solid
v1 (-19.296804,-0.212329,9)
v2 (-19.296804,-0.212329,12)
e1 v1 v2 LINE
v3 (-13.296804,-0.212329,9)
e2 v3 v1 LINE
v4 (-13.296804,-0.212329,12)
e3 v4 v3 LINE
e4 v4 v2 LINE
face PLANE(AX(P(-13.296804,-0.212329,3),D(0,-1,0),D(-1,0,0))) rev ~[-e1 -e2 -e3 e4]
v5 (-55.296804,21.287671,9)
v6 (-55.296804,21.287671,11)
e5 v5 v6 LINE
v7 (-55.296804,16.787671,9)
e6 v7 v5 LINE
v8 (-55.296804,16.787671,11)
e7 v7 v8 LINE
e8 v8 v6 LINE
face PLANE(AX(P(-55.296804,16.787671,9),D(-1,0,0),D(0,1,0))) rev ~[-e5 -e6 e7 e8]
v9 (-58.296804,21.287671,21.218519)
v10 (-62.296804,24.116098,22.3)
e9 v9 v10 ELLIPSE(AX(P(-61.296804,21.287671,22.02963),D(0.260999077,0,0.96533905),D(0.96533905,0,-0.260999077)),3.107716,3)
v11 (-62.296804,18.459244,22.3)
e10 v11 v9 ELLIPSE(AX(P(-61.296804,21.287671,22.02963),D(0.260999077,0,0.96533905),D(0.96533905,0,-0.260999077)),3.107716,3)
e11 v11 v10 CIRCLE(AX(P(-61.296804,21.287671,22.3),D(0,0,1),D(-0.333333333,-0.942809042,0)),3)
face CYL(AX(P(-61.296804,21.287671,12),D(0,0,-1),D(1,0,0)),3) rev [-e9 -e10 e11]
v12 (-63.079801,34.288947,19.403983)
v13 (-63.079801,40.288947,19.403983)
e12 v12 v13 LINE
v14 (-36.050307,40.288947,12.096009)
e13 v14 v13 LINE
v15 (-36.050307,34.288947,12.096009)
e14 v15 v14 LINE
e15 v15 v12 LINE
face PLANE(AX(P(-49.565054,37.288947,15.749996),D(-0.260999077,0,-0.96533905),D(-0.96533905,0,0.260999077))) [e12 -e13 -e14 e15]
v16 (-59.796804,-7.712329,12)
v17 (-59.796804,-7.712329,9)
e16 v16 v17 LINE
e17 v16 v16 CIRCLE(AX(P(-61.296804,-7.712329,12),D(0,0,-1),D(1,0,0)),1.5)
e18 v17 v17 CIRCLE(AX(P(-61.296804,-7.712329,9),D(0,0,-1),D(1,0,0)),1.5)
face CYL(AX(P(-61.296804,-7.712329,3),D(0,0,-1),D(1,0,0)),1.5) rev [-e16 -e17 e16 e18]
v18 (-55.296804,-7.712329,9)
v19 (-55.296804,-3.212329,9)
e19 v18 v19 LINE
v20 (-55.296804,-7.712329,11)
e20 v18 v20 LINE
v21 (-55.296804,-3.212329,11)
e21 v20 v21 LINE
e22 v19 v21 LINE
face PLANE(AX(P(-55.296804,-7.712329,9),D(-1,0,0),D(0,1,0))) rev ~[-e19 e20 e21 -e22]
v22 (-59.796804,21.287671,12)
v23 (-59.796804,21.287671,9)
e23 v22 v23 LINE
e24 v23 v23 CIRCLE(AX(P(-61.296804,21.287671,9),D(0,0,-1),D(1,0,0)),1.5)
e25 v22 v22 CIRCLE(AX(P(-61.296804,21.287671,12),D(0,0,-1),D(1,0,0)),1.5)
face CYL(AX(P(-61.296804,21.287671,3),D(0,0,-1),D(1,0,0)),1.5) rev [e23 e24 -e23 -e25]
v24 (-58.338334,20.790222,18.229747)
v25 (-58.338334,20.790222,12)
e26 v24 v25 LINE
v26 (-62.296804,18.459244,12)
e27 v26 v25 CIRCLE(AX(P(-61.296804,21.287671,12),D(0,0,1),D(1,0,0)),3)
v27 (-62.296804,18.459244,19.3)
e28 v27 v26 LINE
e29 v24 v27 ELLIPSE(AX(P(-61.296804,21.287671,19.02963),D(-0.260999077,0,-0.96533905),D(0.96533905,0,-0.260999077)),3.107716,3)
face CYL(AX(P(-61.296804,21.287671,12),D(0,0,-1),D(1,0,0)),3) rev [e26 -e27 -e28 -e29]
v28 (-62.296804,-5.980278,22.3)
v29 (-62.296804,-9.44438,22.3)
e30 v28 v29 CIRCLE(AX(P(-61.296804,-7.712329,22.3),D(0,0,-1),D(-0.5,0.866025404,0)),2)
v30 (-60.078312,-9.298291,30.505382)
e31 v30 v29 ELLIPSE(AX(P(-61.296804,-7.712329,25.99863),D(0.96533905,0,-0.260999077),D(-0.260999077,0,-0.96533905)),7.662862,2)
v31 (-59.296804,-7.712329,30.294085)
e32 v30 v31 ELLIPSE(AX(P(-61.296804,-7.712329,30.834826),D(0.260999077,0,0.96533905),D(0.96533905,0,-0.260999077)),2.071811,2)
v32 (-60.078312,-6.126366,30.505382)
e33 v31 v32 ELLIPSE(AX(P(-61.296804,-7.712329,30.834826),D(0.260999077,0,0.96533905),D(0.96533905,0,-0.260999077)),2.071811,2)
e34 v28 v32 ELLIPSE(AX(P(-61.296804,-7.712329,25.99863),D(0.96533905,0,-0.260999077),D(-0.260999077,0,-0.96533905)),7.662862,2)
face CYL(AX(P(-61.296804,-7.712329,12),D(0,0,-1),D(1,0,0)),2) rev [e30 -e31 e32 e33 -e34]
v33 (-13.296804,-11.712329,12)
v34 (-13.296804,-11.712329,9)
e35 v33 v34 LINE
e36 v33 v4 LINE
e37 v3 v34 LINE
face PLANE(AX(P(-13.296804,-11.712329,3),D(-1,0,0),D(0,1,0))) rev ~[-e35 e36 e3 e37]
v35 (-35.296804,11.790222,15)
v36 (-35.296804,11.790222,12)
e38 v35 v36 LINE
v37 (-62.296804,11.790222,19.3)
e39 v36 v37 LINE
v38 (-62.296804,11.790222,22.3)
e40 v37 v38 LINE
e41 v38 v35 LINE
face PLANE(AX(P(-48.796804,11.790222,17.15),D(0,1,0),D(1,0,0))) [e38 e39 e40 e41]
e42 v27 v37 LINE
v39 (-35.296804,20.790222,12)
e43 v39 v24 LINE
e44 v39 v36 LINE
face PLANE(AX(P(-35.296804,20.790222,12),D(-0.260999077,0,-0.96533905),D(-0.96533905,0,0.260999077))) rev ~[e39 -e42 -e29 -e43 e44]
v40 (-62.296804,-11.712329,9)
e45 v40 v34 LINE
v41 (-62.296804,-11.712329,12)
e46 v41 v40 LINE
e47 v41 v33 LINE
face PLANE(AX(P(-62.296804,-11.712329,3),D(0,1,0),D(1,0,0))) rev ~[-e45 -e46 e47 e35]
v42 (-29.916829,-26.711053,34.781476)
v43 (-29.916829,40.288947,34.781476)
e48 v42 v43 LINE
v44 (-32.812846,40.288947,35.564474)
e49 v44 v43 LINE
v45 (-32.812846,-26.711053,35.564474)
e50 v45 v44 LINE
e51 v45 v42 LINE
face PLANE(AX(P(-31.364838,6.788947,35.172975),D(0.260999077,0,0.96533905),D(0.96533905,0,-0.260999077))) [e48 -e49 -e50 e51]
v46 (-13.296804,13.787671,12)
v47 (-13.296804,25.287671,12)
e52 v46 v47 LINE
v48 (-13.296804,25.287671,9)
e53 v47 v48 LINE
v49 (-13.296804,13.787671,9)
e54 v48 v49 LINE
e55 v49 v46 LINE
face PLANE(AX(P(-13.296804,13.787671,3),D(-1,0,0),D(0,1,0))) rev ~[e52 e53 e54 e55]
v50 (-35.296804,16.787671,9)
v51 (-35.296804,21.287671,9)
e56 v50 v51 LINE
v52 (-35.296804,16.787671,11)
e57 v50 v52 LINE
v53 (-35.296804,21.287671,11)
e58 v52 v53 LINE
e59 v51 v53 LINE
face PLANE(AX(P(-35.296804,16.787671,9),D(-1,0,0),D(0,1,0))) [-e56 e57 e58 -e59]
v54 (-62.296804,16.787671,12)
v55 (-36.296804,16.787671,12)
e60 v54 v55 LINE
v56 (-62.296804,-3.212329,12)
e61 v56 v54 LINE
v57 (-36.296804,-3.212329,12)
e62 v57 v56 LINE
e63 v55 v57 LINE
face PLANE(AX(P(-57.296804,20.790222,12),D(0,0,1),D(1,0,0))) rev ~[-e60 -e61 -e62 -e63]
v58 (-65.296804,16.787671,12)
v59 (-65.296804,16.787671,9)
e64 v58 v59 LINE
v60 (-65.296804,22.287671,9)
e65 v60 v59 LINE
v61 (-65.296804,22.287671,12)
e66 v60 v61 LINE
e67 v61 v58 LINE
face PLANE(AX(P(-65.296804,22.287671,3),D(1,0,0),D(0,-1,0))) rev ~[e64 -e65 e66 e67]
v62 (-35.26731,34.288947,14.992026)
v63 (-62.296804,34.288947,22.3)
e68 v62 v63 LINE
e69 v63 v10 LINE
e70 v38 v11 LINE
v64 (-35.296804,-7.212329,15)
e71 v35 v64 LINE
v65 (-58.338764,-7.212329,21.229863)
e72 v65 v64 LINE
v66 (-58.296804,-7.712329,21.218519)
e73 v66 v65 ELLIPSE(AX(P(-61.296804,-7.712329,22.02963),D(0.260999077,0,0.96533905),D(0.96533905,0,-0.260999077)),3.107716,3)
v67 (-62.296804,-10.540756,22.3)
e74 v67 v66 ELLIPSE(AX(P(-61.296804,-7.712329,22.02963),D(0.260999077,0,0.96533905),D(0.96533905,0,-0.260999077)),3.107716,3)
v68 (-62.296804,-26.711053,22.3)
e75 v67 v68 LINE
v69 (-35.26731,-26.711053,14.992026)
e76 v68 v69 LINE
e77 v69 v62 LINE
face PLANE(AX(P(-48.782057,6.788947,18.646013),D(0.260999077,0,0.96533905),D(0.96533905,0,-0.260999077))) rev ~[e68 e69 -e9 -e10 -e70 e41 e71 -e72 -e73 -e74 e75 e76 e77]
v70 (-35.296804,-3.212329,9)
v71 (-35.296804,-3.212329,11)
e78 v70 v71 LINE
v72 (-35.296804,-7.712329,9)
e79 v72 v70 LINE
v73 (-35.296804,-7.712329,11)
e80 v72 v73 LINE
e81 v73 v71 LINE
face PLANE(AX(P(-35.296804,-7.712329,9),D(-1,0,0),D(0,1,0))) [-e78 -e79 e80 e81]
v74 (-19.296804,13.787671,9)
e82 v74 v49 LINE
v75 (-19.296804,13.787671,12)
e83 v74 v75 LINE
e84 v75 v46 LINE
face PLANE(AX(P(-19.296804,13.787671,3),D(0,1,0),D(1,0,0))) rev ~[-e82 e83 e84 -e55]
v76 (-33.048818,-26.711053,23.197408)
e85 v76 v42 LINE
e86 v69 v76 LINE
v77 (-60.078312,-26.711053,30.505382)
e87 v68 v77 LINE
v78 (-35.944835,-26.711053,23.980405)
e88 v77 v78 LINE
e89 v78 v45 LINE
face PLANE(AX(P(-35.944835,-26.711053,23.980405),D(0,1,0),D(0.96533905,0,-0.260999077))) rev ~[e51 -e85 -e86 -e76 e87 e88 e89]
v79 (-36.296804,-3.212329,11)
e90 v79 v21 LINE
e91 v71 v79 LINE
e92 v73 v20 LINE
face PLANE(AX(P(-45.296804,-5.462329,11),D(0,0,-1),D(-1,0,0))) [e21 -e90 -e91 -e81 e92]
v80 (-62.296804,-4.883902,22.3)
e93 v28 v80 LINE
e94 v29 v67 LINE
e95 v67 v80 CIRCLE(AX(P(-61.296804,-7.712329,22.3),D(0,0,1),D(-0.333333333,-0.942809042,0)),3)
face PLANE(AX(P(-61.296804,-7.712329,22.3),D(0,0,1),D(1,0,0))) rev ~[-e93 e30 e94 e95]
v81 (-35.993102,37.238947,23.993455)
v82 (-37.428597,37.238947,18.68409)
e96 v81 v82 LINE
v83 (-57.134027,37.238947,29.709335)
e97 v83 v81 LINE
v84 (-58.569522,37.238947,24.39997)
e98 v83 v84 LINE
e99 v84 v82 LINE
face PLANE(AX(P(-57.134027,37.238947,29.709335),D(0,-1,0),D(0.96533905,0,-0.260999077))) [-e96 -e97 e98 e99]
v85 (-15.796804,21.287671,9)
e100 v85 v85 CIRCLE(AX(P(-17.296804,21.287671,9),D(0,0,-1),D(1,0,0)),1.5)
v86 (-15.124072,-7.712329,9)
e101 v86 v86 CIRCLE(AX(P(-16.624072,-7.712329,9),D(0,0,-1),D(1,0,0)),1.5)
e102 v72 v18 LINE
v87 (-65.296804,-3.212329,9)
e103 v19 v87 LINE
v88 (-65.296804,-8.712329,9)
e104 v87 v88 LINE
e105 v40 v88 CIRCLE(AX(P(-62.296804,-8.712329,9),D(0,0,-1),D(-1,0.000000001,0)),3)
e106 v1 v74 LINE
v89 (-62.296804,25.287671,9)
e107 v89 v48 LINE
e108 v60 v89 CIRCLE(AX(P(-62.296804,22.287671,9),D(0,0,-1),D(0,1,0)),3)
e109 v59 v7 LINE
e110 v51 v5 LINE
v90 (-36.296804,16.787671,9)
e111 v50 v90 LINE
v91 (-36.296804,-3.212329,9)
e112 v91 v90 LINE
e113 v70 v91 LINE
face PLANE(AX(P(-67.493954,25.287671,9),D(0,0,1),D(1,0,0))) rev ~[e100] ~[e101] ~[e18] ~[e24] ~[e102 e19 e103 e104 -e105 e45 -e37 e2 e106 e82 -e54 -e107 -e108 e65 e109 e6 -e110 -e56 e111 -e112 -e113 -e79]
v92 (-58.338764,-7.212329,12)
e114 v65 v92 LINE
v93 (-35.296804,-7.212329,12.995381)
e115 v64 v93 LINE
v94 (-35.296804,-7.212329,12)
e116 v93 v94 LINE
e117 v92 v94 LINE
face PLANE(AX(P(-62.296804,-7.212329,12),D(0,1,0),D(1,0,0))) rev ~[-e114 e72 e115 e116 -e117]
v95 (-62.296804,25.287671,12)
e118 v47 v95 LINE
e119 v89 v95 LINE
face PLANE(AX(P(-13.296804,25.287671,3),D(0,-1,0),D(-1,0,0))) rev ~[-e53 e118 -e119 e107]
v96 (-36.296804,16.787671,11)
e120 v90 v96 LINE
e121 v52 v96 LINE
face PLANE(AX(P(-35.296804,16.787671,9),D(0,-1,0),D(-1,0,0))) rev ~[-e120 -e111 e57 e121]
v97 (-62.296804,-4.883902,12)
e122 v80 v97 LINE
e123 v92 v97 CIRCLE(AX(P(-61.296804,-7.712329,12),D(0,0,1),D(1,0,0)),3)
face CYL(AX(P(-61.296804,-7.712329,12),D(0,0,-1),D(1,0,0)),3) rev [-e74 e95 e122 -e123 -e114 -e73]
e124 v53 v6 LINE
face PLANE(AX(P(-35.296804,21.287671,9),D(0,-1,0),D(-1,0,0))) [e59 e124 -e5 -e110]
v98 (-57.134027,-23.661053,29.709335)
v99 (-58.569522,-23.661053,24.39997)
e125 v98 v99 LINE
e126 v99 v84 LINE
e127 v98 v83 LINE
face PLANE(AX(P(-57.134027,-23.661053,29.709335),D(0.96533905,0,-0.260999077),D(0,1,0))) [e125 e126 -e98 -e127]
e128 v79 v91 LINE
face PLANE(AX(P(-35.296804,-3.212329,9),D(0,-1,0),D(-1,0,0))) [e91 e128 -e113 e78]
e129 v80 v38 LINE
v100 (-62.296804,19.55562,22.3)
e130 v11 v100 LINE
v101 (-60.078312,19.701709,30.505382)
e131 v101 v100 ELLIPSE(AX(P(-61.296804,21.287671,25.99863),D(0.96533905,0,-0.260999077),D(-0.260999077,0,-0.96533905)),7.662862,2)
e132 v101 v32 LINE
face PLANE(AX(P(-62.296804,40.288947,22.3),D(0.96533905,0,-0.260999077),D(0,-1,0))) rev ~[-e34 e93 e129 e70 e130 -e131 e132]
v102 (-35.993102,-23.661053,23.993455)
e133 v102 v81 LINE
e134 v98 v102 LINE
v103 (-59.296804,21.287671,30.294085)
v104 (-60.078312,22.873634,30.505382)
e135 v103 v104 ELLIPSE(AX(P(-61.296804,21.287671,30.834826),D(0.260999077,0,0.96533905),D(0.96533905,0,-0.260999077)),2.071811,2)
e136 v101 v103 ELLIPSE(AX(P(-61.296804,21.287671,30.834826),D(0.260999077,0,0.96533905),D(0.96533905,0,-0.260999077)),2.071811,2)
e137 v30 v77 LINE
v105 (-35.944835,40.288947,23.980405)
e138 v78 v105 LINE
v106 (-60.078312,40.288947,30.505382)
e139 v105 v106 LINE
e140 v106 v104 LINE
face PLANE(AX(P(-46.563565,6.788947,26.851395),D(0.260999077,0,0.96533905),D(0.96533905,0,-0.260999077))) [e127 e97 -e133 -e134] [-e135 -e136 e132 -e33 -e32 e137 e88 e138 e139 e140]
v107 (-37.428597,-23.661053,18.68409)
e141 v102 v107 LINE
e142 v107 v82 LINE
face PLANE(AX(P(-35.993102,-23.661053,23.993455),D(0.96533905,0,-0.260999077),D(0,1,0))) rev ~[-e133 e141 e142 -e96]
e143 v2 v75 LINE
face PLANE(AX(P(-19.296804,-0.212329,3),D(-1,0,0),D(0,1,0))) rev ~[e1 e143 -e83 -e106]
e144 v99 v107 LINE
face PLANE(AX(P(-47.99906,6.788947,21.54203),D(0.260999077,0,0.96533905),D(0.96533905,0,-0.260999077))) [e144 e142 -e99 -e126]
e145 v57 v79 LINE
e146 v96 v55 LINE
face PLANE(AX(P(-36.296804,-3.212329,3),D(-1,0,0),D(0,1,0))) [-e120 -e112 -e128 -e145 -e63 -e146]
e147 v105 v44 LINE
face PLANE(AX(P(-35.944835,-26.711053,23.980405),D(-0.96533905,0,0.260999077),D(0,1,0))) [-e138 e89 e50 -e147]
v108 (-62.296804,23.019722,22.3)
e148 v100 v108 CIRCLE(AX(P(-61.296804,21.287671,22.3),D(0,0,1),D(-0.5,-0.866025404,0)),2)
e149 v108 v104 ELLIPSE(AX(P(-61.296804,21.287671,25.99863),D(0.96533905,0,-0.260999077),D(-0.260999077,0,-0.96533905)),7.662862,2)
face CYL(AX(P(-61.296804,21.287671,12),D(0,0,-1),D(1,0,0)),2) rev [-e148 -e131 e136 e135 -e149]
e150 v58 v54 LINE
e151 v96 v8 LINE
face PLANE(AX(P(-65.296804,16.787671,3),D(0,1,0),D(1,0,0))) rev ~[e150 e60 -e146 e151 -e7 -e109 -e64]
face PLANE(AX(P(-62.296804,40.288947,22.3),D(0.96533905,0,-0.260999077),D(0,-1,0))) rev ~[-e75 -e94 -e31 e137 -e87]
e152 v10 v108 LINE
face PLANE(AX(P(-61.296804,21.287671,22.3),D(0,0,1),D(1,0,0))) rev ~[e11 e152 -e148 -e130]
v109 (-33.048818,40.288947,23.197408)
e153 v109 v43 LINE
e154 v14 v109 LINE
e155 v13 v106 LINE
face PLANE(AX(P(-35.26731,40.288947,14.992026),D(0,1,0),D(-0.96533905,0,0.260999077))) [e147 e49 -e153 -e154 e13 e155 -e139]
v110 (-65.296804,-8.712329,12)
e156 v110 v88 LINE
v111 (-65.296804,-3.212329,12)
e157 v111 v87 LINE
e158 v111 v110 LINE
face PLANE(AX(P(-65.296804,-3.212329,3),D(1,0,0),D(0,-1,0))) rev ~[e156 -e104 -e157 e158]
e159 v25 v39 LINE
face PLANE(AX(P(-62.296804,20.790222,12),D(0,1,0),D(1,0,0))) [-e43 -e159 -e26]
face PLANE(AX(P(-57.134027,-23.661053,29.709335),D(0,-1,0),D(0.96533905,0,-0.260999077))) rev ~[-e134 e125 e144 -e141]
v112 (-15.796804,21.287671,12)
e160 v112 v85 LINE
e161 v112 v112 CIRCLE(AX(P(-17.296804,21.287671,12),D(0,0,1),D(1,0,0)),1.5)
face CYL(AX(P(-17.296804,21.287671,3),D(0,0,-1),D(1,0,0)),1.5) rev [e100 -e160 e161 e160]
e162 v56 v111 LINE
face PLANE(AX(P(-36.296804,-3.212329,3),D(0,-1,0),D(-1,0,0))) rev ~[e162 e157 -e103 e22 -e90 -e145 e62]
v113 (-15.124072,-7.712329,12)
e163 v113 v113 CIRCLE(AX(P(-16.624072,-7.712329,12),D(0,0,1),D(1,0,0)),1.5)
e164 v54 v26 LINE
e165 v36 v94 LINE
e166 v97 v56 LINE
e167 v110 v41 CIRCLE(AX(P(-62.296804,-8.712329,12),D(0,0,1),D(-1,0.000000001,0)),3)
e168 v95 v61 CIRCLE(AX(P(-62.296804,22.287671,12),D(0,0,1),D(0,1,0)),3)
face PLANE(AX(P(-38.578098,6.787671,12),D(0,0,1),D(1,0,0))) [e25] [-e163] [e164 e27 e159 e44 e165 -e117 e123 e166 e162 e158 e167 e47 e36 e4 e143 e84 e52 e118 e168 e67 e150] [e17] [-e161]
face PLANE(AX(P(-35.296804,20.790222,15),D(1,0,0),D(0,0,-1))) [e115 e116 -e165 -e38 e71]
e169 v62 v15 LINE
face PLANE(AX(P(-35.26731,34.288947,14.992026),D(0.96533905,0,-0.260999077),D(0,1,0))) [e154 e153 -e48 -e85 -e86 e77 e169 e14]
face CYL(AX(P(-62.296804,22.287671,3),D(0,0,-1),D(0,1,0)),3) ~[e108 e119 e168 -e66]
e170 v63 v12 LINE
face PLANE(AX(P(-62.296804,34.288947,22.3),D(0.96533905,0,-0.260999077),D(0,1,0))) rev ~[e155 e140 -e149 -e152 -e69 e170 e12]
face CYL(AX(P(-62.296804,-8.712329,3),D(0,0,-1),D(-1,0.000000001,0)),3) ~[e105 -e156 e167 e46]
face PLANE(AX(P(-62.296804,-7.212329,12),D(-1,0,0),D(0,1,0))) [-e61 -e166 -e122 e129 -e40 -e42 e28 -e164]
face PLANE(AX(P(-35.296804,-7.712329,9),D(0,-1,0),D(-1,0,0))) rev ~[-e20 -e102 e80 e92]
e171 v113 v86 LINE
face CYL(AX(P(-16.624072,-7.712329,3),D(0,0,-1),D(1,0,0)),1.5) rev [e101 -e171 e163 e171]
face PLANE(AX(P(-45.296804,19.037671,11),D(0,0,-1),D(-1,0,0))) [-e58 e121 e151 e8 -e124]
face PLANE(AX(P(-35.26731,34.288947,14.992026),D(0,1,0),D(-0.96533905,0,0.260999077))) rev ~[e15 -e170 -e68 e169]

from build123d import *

# Parameters (mm, degrees)
CROQUIS1_W              = 52
CROQUIS1_H              = 37
SALIENTE_EXTRUIR1_DEPTH = 3
REDONDEO1_R             = 3
CROQUIS2_R              = 1.5
CORTAR_EXTRUIR1_DEPTH   = 3
CROQUIS3_W              = 29
CROQUIS3_H              = 20
CROQUIS3_W_2            = 6
CROQUIS3_H_2            = 14
CORTAR_EXTRUIR2_DEPTH   = 3
SALIENTE_EXTRUIR2_DEPTH = 9
CROQUIS5_W              = 36
CROQUIS5_H              = 28.002550662
SALIENTE_EXTRUIR3_DEPTH = 10.3
CORTAR_EXTRUIR3_START   = -28.002551
CORTAR_EXTRUIR3_DEPTH   = 28.002551
SALIENTE_EXTRUIR4_DEPTH = 8.5
CROQUIS8_W              = 21.9
CROQUIS8_H              = 60.9
CORTAR_EXTRUIR4_DEPTH   = 5.5
CORTAR_EXTRUIR5_DEPTH   = 9
CORTAR_EXTRUIR6_START   = -28.002551
CROQUIS12_W             = 9
CROQUIS12_H             = 1.570892211
CORTAR_EXTRUIR6_DEPTH   = 28.002551
CROQUIS13_W             = 3
CROQUIS13_H             = 67
SALIENTE_EXTRUIR5_DEPTH = 12
CORTAR_EXTRUIR7_START   = -28.002551
CROQUIS14_W             = 31
CROQUIS14_H             = 9
CORTAR_EXTRUIR7_DEPTH   = 28.002551
CROQUIS17_R             = 1.5
SALIENTE_EXTRUIR6_DEPTH = 9
CORTAR_EXTRUIR8_START   = -37
CROQUIS18_W             = 54.197150846
CROQUIS18_H             = 9
CORTAR_EXTRUIR8_DEPTH   = 37
CORTAR_EXTRUIR9_REACH   = 83.194
CROQUIS19_R             = 1.5
CROQUIS20_W             = 28
CROQUIS20_H             = 6
SALIENTE_EXTRUIR7_DEPTH = 3
CROQUIS21_W             = 20
CROQUIS21_H             = 4.5
CORTAR_EXTRUIR10_DEPTH  = 2
CROQUIS22_R             = 3
CORTAR_EXTRUIR11_DEPTH  = 10.3
CORTAR_EXTRUIR12_REACH  = 82.263
CROQUIS23_R             = 2


with BuildPart() as part:
    # Croquis1 → Saliente-Extruir1 (new body)
    with BuildSketch(Plane.XY):
        with Locations((-39.296803653, 6.787671233)):
            Rectangle(CROQUIS1_W, CROQUIS1_H)
    extrude(amount=SALIENTE_EXTRUIR1_DEPTH)

    # Redondeo1
    redondeo1_edges = [part.edges().sort_by_distance(p)[0] for p in [
        (-65.296803653, 25.287671233, 1.5),
        (-65.296803653, -11.712328767, 1.5),
    ]]
    fillet(redondeo1_edges, radius=REDONDEO1_R)

    # Croquis2 → Cortar-Extruir1 (cut)
    with BuildSketch(Plane.XY.offset(3)):
        with Locations((-61.296803653, 21.287671233)):
            Circle(CROQUIS2_R)
        with Locations((-61.296803653, -7.712328767)):
            Circle(CROQUIS2_R)
        with Locations((-16.624072342, -7.712328767)):
            Circle(CROQUIS2_R)
        with Locations((-17.296803653, 21.287671233)):
            Circle(CROQUIS2_R)
    extrude(amount=-CORTAR_EXTRUIR1_DEPTH, mode=Mode.SUBTRACT)

    # Croquis3 → Cortar-Extruir2 (cut)
    with BuildSketch(Plane.XY.offset(3)):
        with Locations((-50.796803653, 6.787671233)):
            Rectangle(CROQUIS3_W, CROQUIS3_H)
        with Locations((-16.296803653, 6.787671233)):
            Rectangle(CROQUIS3_W_2, CROQUIS3_H_2)
    extrude(amount=-CORTAR_EXTRUIR2_DEPTH, mode=Mode.SUBTRACT)

    # Croquis4 → Saliente-Extruir2 (add)
    with BuildSketch(Plane.XY.offset(3)):
        Polygon((-57.296803653, 16.787671233), (-57.296803653, 20.790221895), (-26.296803653, 20.790221895), (-26.296803653, -7.212328767), (-57.296803653, -7.212328767), (-57.296803653, -3.212328767), (-36.296803653, -3.212328767), (-36.296803653, 16.787671233), align=None)
    extrude(amount=SALIENTE_EXTRUIR2_DEPTH)

    # Croquis5 → Saliente-Extruir3 (add)
    with BuildSketch(Plane.XY.offset(12)):
        with Locations((-44.296803653, 6.788946564)):
            Rectangle(CROQUIS5_W, CROQUIS5_H)
    extrude(amount=SALIENTE_EXTRUIR3_DEPTH)

    # Croquis6 → Cortar-Extruir3 (cut)
    with BuildSketch(Plane.XZ.offset(7.212328767).offset(CORTAR_EXTRUIR3_START)):
        Polygon((-35.296803653, 15), (-35.296803653, 12.995381041), (-26.296803653, 12.995381041), (-26.296803653, 14.757444162), (-26.296803653, 22.3), (-62.296803653, 22.3), align=None)
    extrude(amount=CORTAR_EXTRUIR3_DEPTH, mode=Mode.SUBTRACT)

    # Croquis7 → Saliente-Extruir4 (add)
    with BuildSketch(Plane(origin=(1.374852463, 0, 5.085070754), x_dir=(0.9653390502996949, 0, -0.2609990765625102), z_dir=(0.2609990765625102, 0, 0.9653390502996949))):
        Polygon((-65.957816682, 6.788946564), (-65.957816682, -26.711053436), (-37.957816682, -26.711053436), (-37.957816682, 40.288946564), (-65.957816682, 40.288946564), align=None)
    extrude(amount=SALIENTE_EXTRUIR4_DEPTH)

    # Croquis8 → Cortar-Extruir4 (cut)
    with BuildSketch(Plane(origin=(3.593344614, 0, 13.290452681), x_dir=(0.9653390502996949, 0, -0.26099907656251026), z_dir=(0.26099907656251026, 0, 0.9653390502996949))):
        with Locations((-51.957816682, 6.788946564)):
            Rectangle(CROQUIS8_W, CROQUIS8_H)
    extrude(amount=-CORTAR_EXTRUIR4_DEPTH, mode=Mode.SUBTRACT)

    # Croquis10 → Cortar-Extruir5 (cut)
    with BuildSketch(Plane(origin=(0, 20.790221895, 0), x_dir=(1, 0, 0), z_dir=(0, 1, 0))):
        Polygon((-62.296803653, -22.3), (-35.296803653, -15), (-35.296803653, -12), (-62.296803653, -19.3), align=None)
    extrude(amount=-CORTAR_EXTRUIR5_DEPTH, mode=Mode.SUBTRACT)

    # Croquis12 → Cortar-Extruir6 (cut)
    with BuildSketch(Plane(origin=(0, 20.790221895, 0), x_dir=(1, 0, 0), z_dir=(0, 1, 0)).offset(CORTAR_EXTRUIR6_START)):
        with Locations((-30.796803653, -12.209934936)):
            Rectangle(CROQUIS12_W, CROQUIS12_H)
    extrude(amount=CORTAR_EXTRUIR6_DEPTH, mode=Mode.SUBTRACT)

    # Croquis13 → Saliente-Extruir5 (add)
    with BuildSketch(Plane(origin=(3.593344614, 0, 13.290452681), x_dir=(0.9653390502996949, 0, -0.26099907656251026), z_dir=(0.26099907656251026, 0, 0.9653390502996949))):
        with Locations((-39.457816682, 6.788946564)):
            Rectangle(CROQUIS13_W, CROQUIS13_H)
    extrude(amount=SALIENTE_EXTRUIR5_DEPTH)

    # Croquis14 → Cortar-Extruir7 (cut)
    with BuildSketch(Plane.XZ.offset(7.212328767).offset(CORTAR_EXTRUIR7_START)):
        with Locations((-41.796803653, 7.5)):
            Rectangle(CROQUIS14_W, CROQUIS14_H)
    extrude(amount=CORTAR_EXTRUIR7_DEPTH, mode=Mode.SUBTRACT)


with BuildPart() as cortar_extruir7_piece_1:
    # of the separate pieces the step leaves, piece 1, a body of its own (cortar_extruir7_pieces)
    add(part.part.solids().sort_by_distance((-62.296803653, -26.711053436, 22.3))[0])



with BuildPart() as cortar_extruir7_piece_2:
    # of the separate pieces the step leaves, piece 2, a body of its own (cortar_extruir7_pieces)
    add(part.part.solids().sort_by_distance((-62.296803653, 25.287671233, 3))[0])


with BuildPart() as cortar_extruir7_piece_1_1:
    add(cortar_extruir7_piece_1.part)

    add(cortar_extruir7_piece_2.part)  # Saliente-Extruir6 merges Cortar-Extruir7 piece 2
    # Croquis17 → Saliente-Extruir6 (add)
    with BuildSketch(Plane.XY.offset(3)):
        with BuildLine():
            Line((-13.296803653, -0.212328767), (-19.296803653, -0.212328767))
            Line((-19.296803653, -0.212328767), (-19.296803653, 13.787671233))
            Line((-19.296803653, 13.787671233), (-13.296803653, 13.787671233))
            Line((-13.296803653, 13.787671233), (-13.296803653, 25.287671233))
            Line((-13.296803653, 25.287671233), (-62.296803653, 25.287671233))
            ThreePointArc((-62.296803653, 25.287671233), (-64.418123997, 24.408991576), (-65.296803653, 22.287671233))
            Line((-65.296803653, 22.287671233), (-65.296803653, 16.787671233))
            Line((-65.296803653, 16.787671233), (-36.296803653, 16.787671233))
            Line((-36.296803653, 16.787671233), (-36.296803653, -3.212328767))
            Line((-36.296803653, -3.212328767), (-65.296803653, -3.212328767))
            Line((-65.296803653, -3.212328767), (-65.296803653, -8.712328767))
            ThreePointArc((-65.296803653, -8.712328767), (-64.418123997, -10.833649111), (-62.296803653, -11.712328767))
            Line((-62.296803653, -11.712328767), (-13.296803653, -11.712328767))
            Line((-13.296803653, -11.712328767), (-13.296803653, -0.212328767))
        make_face()
        with Locations((-61.296803653, 21.287671233)):
            Circle(CROQUIS17_R, mode=Mode.SUBTRACT)
        with Locations((-61.296803653, -7.712328767)):
            Circle(CROQUIS17_R, mode=Mode.SUBTRACT)
        with Locations((-16.624072342, -7.712328767)):
            Circle(CROQUIS17_R, mode=Mode.SUBTRACT)
        with Locations((-17.296803653, 21.287671233)):
            Circle(CROQUIS17_R, mode=Mode.SUBTRACT)
    extrude(amount=SALIENTE_EXTRUIR6_DEPTH)

    # Croquis18 → Cortar-Extruir8 (cut)
    with BuildSketch(Plane.XZ.offset(11.712328767).offset(CORTAR_EXTRUIR8_START)):
        with Locations((-40.395379076, 4.5)):
            Rectangle(CROQUIS18_W, CROQUIS18_H)
    extrude(amount=CORTAR_EXTRUIR8_DEPTH, mode=Mode.SUBTRACT)

    # Cortar-Extruir9: up to this plane
    cortar_extruir9_end = Plane(origin=(3.593344614, 0, 13.290452681), z_dir=(0.26099907656251026, 0, 0.9653390502996949))
    # Croquis19 → Cortar-Extruir9 (cut, up to the surface)
    with BuildSketch(Plane(origin=(0, 0, 9), x_dir=(-1, 0, 0), z_dir=(0, 0, -1)), mode=Mode.PRIVATE) as cortar_extruir9_sk1:
        with Locations(Location((61.296803653, 21.287671233, 0), (0, 0, 180))):
            Circle(CROQUIS19_R)
    cortar_extruir9_tool1 = split(extrude(cortar_extruir9_sk1.sketch, amount=-CORTAR_EXTRUIR9_REACH, mode=Mode.PRIVATE), bisect_by=cortar_extruir9_end, keep=Keep.BOTH, mode=Mode.PRIVATE)
    add(cortar_extruir9_tool1.solids().sort_by_distance((-61.296804, 21.287671, 9))[0], mode=Mode.SUBTRACT)
    # Croquis19 → Cortar-Extruir9 (cut, up to the surface)
    with BuildSketch(Plane(origin=(0, 0, 9), x_dir=(-1, 0, 0), z_dir=(0, 0, -1)), mode=Mode.PRIVATE) as cortar_extruir9_sk2:
        with Locations(Location((61.296803653, -7.712328767, 0), (0, 0, 180))):
            Circle(CROQUIS19_R)
    cortar_extruir9_tool2 = split(extrude(cortar_extruir9_sk2.sketch, amount=-CORTAR_EXTRUIR9_REACH, mode=Mode.PRIVATE), bisect_by=cortar_extruir9_end, keep=Keep.BOTH, mode=Mode.PRIVATE)
    add(cortar_extruir9_tool2.solids().sort_by_distance((-61.296804, -7.712329, 9))[0], mode=Mode.SUBTRACT)

    # Croquis20 → Saliente-Extruir7 (add)
    with BuildSketch(Plane(origin=(1.374852463, 0, 5.085070754), x_dir=(-0.9653390502996949, 0, 0.26099907656251026), z_dir=(-0.26099907656251026, 0, -0.9653390502996949))):
        with Locations((51.957816682, 37.288946564)):
            Rectangle(CROQUIS20_W, CROQUIS20_H)
    extrude(amount=SALIENTE_EXTRUIR7_DEPTH)

    # Croquis21 → Cortar-Extruir10 (cut)
    with BuildSketch(Plane(origin=(0, 0, 9), x_dir=(-1, 0, 0), z_dir=(0, 0, -1))):
        with Locations((45.296803653, 19.037671233)):
            Rectangle(CROQUIS21_W, CROQUIS21_H)
        with Locations((45.296803653, -5.462328767)):
            Rectangle(CROQUIS21_W, CROQUIS21_H)
    extrude(amount=-CORTAR_EXTRUIR10_DEPTH, mode=Mode.SUBTRACT)

    # Croquis22 → Cortar-Extruir11 (cut)
    with BuildSketch(Plane.XY.offset(12)):
        with Locations((-61.296803653, 21.287671233)):
            Circle(CROQUIS22_R)
        with Locations((-61.296803653, -7.712328767)):
            Circle(CROQUIS22_R)
    extrude(amount=CORTAR_EXTRUIR11_DEPTH, mode=Mode.SUBTRACT)

    # Cortar-Extruir12: up to this plane
    cortar_extruir12_end = Plane(origin=(3.593344614, 0, 13.290452681), z_dir=(0.26099907656251026, 0, 0.9653390502996949))
    # Croquis23 → Cortar-Extruir12 (cut, up to the surface)
    with BuildSketch(Plane.XY.offset(12), mode=Mode.PRIVATE) as cortar_extruir12_sk1:
        with Locations((-61.296803653, 21.287671233)):
            Circle(CROQUIS23_R)
    cortar_extruir12_tool1 = split(extrude(cortar_extruir12_sk1.sketch, amount=CORTAR_EXTRUIR12_REACH, mode=Mode.PRIVATE), bisect_by=cortar_extruir12_end, keep=Keep.BOTH, mode=Mode.PRIVATE)
    add(cortar_extruir12_tool1.solids().sort_by_distance((-61.296804, 21.287671, 12))[0], mode=Mode.SUBTRACT)
    # Croquis23 → Cortar-Extruir12 (cut, up to the surface)
    with BuildSketch(Plane.XY.offset(12), mode=Mode.PRIVATE) as cortar_extruir12_sk2:
        with Locations((-61.296803653, -7.712328767)):
            Circle(CROQUIS23_R)
    cortar_extruir12_tool2 = split(extrude(cortar_extruir12_sk2.sketch, amount=CORTAR_EXTRUIR12_REACH, mode=Mode.PRIVATE), bisect_by=cortar_extruir12_end, keep=Keep.BOTH, mode=Mode.PRIVATE)
    add(cortar_extruir12_tool2.solids().sort_by_distance((-61.296804, -7.712329, 12))[0], mode=Mode.SUBTRACT)


solid = cortar_extruir7_piece_1_1.part
